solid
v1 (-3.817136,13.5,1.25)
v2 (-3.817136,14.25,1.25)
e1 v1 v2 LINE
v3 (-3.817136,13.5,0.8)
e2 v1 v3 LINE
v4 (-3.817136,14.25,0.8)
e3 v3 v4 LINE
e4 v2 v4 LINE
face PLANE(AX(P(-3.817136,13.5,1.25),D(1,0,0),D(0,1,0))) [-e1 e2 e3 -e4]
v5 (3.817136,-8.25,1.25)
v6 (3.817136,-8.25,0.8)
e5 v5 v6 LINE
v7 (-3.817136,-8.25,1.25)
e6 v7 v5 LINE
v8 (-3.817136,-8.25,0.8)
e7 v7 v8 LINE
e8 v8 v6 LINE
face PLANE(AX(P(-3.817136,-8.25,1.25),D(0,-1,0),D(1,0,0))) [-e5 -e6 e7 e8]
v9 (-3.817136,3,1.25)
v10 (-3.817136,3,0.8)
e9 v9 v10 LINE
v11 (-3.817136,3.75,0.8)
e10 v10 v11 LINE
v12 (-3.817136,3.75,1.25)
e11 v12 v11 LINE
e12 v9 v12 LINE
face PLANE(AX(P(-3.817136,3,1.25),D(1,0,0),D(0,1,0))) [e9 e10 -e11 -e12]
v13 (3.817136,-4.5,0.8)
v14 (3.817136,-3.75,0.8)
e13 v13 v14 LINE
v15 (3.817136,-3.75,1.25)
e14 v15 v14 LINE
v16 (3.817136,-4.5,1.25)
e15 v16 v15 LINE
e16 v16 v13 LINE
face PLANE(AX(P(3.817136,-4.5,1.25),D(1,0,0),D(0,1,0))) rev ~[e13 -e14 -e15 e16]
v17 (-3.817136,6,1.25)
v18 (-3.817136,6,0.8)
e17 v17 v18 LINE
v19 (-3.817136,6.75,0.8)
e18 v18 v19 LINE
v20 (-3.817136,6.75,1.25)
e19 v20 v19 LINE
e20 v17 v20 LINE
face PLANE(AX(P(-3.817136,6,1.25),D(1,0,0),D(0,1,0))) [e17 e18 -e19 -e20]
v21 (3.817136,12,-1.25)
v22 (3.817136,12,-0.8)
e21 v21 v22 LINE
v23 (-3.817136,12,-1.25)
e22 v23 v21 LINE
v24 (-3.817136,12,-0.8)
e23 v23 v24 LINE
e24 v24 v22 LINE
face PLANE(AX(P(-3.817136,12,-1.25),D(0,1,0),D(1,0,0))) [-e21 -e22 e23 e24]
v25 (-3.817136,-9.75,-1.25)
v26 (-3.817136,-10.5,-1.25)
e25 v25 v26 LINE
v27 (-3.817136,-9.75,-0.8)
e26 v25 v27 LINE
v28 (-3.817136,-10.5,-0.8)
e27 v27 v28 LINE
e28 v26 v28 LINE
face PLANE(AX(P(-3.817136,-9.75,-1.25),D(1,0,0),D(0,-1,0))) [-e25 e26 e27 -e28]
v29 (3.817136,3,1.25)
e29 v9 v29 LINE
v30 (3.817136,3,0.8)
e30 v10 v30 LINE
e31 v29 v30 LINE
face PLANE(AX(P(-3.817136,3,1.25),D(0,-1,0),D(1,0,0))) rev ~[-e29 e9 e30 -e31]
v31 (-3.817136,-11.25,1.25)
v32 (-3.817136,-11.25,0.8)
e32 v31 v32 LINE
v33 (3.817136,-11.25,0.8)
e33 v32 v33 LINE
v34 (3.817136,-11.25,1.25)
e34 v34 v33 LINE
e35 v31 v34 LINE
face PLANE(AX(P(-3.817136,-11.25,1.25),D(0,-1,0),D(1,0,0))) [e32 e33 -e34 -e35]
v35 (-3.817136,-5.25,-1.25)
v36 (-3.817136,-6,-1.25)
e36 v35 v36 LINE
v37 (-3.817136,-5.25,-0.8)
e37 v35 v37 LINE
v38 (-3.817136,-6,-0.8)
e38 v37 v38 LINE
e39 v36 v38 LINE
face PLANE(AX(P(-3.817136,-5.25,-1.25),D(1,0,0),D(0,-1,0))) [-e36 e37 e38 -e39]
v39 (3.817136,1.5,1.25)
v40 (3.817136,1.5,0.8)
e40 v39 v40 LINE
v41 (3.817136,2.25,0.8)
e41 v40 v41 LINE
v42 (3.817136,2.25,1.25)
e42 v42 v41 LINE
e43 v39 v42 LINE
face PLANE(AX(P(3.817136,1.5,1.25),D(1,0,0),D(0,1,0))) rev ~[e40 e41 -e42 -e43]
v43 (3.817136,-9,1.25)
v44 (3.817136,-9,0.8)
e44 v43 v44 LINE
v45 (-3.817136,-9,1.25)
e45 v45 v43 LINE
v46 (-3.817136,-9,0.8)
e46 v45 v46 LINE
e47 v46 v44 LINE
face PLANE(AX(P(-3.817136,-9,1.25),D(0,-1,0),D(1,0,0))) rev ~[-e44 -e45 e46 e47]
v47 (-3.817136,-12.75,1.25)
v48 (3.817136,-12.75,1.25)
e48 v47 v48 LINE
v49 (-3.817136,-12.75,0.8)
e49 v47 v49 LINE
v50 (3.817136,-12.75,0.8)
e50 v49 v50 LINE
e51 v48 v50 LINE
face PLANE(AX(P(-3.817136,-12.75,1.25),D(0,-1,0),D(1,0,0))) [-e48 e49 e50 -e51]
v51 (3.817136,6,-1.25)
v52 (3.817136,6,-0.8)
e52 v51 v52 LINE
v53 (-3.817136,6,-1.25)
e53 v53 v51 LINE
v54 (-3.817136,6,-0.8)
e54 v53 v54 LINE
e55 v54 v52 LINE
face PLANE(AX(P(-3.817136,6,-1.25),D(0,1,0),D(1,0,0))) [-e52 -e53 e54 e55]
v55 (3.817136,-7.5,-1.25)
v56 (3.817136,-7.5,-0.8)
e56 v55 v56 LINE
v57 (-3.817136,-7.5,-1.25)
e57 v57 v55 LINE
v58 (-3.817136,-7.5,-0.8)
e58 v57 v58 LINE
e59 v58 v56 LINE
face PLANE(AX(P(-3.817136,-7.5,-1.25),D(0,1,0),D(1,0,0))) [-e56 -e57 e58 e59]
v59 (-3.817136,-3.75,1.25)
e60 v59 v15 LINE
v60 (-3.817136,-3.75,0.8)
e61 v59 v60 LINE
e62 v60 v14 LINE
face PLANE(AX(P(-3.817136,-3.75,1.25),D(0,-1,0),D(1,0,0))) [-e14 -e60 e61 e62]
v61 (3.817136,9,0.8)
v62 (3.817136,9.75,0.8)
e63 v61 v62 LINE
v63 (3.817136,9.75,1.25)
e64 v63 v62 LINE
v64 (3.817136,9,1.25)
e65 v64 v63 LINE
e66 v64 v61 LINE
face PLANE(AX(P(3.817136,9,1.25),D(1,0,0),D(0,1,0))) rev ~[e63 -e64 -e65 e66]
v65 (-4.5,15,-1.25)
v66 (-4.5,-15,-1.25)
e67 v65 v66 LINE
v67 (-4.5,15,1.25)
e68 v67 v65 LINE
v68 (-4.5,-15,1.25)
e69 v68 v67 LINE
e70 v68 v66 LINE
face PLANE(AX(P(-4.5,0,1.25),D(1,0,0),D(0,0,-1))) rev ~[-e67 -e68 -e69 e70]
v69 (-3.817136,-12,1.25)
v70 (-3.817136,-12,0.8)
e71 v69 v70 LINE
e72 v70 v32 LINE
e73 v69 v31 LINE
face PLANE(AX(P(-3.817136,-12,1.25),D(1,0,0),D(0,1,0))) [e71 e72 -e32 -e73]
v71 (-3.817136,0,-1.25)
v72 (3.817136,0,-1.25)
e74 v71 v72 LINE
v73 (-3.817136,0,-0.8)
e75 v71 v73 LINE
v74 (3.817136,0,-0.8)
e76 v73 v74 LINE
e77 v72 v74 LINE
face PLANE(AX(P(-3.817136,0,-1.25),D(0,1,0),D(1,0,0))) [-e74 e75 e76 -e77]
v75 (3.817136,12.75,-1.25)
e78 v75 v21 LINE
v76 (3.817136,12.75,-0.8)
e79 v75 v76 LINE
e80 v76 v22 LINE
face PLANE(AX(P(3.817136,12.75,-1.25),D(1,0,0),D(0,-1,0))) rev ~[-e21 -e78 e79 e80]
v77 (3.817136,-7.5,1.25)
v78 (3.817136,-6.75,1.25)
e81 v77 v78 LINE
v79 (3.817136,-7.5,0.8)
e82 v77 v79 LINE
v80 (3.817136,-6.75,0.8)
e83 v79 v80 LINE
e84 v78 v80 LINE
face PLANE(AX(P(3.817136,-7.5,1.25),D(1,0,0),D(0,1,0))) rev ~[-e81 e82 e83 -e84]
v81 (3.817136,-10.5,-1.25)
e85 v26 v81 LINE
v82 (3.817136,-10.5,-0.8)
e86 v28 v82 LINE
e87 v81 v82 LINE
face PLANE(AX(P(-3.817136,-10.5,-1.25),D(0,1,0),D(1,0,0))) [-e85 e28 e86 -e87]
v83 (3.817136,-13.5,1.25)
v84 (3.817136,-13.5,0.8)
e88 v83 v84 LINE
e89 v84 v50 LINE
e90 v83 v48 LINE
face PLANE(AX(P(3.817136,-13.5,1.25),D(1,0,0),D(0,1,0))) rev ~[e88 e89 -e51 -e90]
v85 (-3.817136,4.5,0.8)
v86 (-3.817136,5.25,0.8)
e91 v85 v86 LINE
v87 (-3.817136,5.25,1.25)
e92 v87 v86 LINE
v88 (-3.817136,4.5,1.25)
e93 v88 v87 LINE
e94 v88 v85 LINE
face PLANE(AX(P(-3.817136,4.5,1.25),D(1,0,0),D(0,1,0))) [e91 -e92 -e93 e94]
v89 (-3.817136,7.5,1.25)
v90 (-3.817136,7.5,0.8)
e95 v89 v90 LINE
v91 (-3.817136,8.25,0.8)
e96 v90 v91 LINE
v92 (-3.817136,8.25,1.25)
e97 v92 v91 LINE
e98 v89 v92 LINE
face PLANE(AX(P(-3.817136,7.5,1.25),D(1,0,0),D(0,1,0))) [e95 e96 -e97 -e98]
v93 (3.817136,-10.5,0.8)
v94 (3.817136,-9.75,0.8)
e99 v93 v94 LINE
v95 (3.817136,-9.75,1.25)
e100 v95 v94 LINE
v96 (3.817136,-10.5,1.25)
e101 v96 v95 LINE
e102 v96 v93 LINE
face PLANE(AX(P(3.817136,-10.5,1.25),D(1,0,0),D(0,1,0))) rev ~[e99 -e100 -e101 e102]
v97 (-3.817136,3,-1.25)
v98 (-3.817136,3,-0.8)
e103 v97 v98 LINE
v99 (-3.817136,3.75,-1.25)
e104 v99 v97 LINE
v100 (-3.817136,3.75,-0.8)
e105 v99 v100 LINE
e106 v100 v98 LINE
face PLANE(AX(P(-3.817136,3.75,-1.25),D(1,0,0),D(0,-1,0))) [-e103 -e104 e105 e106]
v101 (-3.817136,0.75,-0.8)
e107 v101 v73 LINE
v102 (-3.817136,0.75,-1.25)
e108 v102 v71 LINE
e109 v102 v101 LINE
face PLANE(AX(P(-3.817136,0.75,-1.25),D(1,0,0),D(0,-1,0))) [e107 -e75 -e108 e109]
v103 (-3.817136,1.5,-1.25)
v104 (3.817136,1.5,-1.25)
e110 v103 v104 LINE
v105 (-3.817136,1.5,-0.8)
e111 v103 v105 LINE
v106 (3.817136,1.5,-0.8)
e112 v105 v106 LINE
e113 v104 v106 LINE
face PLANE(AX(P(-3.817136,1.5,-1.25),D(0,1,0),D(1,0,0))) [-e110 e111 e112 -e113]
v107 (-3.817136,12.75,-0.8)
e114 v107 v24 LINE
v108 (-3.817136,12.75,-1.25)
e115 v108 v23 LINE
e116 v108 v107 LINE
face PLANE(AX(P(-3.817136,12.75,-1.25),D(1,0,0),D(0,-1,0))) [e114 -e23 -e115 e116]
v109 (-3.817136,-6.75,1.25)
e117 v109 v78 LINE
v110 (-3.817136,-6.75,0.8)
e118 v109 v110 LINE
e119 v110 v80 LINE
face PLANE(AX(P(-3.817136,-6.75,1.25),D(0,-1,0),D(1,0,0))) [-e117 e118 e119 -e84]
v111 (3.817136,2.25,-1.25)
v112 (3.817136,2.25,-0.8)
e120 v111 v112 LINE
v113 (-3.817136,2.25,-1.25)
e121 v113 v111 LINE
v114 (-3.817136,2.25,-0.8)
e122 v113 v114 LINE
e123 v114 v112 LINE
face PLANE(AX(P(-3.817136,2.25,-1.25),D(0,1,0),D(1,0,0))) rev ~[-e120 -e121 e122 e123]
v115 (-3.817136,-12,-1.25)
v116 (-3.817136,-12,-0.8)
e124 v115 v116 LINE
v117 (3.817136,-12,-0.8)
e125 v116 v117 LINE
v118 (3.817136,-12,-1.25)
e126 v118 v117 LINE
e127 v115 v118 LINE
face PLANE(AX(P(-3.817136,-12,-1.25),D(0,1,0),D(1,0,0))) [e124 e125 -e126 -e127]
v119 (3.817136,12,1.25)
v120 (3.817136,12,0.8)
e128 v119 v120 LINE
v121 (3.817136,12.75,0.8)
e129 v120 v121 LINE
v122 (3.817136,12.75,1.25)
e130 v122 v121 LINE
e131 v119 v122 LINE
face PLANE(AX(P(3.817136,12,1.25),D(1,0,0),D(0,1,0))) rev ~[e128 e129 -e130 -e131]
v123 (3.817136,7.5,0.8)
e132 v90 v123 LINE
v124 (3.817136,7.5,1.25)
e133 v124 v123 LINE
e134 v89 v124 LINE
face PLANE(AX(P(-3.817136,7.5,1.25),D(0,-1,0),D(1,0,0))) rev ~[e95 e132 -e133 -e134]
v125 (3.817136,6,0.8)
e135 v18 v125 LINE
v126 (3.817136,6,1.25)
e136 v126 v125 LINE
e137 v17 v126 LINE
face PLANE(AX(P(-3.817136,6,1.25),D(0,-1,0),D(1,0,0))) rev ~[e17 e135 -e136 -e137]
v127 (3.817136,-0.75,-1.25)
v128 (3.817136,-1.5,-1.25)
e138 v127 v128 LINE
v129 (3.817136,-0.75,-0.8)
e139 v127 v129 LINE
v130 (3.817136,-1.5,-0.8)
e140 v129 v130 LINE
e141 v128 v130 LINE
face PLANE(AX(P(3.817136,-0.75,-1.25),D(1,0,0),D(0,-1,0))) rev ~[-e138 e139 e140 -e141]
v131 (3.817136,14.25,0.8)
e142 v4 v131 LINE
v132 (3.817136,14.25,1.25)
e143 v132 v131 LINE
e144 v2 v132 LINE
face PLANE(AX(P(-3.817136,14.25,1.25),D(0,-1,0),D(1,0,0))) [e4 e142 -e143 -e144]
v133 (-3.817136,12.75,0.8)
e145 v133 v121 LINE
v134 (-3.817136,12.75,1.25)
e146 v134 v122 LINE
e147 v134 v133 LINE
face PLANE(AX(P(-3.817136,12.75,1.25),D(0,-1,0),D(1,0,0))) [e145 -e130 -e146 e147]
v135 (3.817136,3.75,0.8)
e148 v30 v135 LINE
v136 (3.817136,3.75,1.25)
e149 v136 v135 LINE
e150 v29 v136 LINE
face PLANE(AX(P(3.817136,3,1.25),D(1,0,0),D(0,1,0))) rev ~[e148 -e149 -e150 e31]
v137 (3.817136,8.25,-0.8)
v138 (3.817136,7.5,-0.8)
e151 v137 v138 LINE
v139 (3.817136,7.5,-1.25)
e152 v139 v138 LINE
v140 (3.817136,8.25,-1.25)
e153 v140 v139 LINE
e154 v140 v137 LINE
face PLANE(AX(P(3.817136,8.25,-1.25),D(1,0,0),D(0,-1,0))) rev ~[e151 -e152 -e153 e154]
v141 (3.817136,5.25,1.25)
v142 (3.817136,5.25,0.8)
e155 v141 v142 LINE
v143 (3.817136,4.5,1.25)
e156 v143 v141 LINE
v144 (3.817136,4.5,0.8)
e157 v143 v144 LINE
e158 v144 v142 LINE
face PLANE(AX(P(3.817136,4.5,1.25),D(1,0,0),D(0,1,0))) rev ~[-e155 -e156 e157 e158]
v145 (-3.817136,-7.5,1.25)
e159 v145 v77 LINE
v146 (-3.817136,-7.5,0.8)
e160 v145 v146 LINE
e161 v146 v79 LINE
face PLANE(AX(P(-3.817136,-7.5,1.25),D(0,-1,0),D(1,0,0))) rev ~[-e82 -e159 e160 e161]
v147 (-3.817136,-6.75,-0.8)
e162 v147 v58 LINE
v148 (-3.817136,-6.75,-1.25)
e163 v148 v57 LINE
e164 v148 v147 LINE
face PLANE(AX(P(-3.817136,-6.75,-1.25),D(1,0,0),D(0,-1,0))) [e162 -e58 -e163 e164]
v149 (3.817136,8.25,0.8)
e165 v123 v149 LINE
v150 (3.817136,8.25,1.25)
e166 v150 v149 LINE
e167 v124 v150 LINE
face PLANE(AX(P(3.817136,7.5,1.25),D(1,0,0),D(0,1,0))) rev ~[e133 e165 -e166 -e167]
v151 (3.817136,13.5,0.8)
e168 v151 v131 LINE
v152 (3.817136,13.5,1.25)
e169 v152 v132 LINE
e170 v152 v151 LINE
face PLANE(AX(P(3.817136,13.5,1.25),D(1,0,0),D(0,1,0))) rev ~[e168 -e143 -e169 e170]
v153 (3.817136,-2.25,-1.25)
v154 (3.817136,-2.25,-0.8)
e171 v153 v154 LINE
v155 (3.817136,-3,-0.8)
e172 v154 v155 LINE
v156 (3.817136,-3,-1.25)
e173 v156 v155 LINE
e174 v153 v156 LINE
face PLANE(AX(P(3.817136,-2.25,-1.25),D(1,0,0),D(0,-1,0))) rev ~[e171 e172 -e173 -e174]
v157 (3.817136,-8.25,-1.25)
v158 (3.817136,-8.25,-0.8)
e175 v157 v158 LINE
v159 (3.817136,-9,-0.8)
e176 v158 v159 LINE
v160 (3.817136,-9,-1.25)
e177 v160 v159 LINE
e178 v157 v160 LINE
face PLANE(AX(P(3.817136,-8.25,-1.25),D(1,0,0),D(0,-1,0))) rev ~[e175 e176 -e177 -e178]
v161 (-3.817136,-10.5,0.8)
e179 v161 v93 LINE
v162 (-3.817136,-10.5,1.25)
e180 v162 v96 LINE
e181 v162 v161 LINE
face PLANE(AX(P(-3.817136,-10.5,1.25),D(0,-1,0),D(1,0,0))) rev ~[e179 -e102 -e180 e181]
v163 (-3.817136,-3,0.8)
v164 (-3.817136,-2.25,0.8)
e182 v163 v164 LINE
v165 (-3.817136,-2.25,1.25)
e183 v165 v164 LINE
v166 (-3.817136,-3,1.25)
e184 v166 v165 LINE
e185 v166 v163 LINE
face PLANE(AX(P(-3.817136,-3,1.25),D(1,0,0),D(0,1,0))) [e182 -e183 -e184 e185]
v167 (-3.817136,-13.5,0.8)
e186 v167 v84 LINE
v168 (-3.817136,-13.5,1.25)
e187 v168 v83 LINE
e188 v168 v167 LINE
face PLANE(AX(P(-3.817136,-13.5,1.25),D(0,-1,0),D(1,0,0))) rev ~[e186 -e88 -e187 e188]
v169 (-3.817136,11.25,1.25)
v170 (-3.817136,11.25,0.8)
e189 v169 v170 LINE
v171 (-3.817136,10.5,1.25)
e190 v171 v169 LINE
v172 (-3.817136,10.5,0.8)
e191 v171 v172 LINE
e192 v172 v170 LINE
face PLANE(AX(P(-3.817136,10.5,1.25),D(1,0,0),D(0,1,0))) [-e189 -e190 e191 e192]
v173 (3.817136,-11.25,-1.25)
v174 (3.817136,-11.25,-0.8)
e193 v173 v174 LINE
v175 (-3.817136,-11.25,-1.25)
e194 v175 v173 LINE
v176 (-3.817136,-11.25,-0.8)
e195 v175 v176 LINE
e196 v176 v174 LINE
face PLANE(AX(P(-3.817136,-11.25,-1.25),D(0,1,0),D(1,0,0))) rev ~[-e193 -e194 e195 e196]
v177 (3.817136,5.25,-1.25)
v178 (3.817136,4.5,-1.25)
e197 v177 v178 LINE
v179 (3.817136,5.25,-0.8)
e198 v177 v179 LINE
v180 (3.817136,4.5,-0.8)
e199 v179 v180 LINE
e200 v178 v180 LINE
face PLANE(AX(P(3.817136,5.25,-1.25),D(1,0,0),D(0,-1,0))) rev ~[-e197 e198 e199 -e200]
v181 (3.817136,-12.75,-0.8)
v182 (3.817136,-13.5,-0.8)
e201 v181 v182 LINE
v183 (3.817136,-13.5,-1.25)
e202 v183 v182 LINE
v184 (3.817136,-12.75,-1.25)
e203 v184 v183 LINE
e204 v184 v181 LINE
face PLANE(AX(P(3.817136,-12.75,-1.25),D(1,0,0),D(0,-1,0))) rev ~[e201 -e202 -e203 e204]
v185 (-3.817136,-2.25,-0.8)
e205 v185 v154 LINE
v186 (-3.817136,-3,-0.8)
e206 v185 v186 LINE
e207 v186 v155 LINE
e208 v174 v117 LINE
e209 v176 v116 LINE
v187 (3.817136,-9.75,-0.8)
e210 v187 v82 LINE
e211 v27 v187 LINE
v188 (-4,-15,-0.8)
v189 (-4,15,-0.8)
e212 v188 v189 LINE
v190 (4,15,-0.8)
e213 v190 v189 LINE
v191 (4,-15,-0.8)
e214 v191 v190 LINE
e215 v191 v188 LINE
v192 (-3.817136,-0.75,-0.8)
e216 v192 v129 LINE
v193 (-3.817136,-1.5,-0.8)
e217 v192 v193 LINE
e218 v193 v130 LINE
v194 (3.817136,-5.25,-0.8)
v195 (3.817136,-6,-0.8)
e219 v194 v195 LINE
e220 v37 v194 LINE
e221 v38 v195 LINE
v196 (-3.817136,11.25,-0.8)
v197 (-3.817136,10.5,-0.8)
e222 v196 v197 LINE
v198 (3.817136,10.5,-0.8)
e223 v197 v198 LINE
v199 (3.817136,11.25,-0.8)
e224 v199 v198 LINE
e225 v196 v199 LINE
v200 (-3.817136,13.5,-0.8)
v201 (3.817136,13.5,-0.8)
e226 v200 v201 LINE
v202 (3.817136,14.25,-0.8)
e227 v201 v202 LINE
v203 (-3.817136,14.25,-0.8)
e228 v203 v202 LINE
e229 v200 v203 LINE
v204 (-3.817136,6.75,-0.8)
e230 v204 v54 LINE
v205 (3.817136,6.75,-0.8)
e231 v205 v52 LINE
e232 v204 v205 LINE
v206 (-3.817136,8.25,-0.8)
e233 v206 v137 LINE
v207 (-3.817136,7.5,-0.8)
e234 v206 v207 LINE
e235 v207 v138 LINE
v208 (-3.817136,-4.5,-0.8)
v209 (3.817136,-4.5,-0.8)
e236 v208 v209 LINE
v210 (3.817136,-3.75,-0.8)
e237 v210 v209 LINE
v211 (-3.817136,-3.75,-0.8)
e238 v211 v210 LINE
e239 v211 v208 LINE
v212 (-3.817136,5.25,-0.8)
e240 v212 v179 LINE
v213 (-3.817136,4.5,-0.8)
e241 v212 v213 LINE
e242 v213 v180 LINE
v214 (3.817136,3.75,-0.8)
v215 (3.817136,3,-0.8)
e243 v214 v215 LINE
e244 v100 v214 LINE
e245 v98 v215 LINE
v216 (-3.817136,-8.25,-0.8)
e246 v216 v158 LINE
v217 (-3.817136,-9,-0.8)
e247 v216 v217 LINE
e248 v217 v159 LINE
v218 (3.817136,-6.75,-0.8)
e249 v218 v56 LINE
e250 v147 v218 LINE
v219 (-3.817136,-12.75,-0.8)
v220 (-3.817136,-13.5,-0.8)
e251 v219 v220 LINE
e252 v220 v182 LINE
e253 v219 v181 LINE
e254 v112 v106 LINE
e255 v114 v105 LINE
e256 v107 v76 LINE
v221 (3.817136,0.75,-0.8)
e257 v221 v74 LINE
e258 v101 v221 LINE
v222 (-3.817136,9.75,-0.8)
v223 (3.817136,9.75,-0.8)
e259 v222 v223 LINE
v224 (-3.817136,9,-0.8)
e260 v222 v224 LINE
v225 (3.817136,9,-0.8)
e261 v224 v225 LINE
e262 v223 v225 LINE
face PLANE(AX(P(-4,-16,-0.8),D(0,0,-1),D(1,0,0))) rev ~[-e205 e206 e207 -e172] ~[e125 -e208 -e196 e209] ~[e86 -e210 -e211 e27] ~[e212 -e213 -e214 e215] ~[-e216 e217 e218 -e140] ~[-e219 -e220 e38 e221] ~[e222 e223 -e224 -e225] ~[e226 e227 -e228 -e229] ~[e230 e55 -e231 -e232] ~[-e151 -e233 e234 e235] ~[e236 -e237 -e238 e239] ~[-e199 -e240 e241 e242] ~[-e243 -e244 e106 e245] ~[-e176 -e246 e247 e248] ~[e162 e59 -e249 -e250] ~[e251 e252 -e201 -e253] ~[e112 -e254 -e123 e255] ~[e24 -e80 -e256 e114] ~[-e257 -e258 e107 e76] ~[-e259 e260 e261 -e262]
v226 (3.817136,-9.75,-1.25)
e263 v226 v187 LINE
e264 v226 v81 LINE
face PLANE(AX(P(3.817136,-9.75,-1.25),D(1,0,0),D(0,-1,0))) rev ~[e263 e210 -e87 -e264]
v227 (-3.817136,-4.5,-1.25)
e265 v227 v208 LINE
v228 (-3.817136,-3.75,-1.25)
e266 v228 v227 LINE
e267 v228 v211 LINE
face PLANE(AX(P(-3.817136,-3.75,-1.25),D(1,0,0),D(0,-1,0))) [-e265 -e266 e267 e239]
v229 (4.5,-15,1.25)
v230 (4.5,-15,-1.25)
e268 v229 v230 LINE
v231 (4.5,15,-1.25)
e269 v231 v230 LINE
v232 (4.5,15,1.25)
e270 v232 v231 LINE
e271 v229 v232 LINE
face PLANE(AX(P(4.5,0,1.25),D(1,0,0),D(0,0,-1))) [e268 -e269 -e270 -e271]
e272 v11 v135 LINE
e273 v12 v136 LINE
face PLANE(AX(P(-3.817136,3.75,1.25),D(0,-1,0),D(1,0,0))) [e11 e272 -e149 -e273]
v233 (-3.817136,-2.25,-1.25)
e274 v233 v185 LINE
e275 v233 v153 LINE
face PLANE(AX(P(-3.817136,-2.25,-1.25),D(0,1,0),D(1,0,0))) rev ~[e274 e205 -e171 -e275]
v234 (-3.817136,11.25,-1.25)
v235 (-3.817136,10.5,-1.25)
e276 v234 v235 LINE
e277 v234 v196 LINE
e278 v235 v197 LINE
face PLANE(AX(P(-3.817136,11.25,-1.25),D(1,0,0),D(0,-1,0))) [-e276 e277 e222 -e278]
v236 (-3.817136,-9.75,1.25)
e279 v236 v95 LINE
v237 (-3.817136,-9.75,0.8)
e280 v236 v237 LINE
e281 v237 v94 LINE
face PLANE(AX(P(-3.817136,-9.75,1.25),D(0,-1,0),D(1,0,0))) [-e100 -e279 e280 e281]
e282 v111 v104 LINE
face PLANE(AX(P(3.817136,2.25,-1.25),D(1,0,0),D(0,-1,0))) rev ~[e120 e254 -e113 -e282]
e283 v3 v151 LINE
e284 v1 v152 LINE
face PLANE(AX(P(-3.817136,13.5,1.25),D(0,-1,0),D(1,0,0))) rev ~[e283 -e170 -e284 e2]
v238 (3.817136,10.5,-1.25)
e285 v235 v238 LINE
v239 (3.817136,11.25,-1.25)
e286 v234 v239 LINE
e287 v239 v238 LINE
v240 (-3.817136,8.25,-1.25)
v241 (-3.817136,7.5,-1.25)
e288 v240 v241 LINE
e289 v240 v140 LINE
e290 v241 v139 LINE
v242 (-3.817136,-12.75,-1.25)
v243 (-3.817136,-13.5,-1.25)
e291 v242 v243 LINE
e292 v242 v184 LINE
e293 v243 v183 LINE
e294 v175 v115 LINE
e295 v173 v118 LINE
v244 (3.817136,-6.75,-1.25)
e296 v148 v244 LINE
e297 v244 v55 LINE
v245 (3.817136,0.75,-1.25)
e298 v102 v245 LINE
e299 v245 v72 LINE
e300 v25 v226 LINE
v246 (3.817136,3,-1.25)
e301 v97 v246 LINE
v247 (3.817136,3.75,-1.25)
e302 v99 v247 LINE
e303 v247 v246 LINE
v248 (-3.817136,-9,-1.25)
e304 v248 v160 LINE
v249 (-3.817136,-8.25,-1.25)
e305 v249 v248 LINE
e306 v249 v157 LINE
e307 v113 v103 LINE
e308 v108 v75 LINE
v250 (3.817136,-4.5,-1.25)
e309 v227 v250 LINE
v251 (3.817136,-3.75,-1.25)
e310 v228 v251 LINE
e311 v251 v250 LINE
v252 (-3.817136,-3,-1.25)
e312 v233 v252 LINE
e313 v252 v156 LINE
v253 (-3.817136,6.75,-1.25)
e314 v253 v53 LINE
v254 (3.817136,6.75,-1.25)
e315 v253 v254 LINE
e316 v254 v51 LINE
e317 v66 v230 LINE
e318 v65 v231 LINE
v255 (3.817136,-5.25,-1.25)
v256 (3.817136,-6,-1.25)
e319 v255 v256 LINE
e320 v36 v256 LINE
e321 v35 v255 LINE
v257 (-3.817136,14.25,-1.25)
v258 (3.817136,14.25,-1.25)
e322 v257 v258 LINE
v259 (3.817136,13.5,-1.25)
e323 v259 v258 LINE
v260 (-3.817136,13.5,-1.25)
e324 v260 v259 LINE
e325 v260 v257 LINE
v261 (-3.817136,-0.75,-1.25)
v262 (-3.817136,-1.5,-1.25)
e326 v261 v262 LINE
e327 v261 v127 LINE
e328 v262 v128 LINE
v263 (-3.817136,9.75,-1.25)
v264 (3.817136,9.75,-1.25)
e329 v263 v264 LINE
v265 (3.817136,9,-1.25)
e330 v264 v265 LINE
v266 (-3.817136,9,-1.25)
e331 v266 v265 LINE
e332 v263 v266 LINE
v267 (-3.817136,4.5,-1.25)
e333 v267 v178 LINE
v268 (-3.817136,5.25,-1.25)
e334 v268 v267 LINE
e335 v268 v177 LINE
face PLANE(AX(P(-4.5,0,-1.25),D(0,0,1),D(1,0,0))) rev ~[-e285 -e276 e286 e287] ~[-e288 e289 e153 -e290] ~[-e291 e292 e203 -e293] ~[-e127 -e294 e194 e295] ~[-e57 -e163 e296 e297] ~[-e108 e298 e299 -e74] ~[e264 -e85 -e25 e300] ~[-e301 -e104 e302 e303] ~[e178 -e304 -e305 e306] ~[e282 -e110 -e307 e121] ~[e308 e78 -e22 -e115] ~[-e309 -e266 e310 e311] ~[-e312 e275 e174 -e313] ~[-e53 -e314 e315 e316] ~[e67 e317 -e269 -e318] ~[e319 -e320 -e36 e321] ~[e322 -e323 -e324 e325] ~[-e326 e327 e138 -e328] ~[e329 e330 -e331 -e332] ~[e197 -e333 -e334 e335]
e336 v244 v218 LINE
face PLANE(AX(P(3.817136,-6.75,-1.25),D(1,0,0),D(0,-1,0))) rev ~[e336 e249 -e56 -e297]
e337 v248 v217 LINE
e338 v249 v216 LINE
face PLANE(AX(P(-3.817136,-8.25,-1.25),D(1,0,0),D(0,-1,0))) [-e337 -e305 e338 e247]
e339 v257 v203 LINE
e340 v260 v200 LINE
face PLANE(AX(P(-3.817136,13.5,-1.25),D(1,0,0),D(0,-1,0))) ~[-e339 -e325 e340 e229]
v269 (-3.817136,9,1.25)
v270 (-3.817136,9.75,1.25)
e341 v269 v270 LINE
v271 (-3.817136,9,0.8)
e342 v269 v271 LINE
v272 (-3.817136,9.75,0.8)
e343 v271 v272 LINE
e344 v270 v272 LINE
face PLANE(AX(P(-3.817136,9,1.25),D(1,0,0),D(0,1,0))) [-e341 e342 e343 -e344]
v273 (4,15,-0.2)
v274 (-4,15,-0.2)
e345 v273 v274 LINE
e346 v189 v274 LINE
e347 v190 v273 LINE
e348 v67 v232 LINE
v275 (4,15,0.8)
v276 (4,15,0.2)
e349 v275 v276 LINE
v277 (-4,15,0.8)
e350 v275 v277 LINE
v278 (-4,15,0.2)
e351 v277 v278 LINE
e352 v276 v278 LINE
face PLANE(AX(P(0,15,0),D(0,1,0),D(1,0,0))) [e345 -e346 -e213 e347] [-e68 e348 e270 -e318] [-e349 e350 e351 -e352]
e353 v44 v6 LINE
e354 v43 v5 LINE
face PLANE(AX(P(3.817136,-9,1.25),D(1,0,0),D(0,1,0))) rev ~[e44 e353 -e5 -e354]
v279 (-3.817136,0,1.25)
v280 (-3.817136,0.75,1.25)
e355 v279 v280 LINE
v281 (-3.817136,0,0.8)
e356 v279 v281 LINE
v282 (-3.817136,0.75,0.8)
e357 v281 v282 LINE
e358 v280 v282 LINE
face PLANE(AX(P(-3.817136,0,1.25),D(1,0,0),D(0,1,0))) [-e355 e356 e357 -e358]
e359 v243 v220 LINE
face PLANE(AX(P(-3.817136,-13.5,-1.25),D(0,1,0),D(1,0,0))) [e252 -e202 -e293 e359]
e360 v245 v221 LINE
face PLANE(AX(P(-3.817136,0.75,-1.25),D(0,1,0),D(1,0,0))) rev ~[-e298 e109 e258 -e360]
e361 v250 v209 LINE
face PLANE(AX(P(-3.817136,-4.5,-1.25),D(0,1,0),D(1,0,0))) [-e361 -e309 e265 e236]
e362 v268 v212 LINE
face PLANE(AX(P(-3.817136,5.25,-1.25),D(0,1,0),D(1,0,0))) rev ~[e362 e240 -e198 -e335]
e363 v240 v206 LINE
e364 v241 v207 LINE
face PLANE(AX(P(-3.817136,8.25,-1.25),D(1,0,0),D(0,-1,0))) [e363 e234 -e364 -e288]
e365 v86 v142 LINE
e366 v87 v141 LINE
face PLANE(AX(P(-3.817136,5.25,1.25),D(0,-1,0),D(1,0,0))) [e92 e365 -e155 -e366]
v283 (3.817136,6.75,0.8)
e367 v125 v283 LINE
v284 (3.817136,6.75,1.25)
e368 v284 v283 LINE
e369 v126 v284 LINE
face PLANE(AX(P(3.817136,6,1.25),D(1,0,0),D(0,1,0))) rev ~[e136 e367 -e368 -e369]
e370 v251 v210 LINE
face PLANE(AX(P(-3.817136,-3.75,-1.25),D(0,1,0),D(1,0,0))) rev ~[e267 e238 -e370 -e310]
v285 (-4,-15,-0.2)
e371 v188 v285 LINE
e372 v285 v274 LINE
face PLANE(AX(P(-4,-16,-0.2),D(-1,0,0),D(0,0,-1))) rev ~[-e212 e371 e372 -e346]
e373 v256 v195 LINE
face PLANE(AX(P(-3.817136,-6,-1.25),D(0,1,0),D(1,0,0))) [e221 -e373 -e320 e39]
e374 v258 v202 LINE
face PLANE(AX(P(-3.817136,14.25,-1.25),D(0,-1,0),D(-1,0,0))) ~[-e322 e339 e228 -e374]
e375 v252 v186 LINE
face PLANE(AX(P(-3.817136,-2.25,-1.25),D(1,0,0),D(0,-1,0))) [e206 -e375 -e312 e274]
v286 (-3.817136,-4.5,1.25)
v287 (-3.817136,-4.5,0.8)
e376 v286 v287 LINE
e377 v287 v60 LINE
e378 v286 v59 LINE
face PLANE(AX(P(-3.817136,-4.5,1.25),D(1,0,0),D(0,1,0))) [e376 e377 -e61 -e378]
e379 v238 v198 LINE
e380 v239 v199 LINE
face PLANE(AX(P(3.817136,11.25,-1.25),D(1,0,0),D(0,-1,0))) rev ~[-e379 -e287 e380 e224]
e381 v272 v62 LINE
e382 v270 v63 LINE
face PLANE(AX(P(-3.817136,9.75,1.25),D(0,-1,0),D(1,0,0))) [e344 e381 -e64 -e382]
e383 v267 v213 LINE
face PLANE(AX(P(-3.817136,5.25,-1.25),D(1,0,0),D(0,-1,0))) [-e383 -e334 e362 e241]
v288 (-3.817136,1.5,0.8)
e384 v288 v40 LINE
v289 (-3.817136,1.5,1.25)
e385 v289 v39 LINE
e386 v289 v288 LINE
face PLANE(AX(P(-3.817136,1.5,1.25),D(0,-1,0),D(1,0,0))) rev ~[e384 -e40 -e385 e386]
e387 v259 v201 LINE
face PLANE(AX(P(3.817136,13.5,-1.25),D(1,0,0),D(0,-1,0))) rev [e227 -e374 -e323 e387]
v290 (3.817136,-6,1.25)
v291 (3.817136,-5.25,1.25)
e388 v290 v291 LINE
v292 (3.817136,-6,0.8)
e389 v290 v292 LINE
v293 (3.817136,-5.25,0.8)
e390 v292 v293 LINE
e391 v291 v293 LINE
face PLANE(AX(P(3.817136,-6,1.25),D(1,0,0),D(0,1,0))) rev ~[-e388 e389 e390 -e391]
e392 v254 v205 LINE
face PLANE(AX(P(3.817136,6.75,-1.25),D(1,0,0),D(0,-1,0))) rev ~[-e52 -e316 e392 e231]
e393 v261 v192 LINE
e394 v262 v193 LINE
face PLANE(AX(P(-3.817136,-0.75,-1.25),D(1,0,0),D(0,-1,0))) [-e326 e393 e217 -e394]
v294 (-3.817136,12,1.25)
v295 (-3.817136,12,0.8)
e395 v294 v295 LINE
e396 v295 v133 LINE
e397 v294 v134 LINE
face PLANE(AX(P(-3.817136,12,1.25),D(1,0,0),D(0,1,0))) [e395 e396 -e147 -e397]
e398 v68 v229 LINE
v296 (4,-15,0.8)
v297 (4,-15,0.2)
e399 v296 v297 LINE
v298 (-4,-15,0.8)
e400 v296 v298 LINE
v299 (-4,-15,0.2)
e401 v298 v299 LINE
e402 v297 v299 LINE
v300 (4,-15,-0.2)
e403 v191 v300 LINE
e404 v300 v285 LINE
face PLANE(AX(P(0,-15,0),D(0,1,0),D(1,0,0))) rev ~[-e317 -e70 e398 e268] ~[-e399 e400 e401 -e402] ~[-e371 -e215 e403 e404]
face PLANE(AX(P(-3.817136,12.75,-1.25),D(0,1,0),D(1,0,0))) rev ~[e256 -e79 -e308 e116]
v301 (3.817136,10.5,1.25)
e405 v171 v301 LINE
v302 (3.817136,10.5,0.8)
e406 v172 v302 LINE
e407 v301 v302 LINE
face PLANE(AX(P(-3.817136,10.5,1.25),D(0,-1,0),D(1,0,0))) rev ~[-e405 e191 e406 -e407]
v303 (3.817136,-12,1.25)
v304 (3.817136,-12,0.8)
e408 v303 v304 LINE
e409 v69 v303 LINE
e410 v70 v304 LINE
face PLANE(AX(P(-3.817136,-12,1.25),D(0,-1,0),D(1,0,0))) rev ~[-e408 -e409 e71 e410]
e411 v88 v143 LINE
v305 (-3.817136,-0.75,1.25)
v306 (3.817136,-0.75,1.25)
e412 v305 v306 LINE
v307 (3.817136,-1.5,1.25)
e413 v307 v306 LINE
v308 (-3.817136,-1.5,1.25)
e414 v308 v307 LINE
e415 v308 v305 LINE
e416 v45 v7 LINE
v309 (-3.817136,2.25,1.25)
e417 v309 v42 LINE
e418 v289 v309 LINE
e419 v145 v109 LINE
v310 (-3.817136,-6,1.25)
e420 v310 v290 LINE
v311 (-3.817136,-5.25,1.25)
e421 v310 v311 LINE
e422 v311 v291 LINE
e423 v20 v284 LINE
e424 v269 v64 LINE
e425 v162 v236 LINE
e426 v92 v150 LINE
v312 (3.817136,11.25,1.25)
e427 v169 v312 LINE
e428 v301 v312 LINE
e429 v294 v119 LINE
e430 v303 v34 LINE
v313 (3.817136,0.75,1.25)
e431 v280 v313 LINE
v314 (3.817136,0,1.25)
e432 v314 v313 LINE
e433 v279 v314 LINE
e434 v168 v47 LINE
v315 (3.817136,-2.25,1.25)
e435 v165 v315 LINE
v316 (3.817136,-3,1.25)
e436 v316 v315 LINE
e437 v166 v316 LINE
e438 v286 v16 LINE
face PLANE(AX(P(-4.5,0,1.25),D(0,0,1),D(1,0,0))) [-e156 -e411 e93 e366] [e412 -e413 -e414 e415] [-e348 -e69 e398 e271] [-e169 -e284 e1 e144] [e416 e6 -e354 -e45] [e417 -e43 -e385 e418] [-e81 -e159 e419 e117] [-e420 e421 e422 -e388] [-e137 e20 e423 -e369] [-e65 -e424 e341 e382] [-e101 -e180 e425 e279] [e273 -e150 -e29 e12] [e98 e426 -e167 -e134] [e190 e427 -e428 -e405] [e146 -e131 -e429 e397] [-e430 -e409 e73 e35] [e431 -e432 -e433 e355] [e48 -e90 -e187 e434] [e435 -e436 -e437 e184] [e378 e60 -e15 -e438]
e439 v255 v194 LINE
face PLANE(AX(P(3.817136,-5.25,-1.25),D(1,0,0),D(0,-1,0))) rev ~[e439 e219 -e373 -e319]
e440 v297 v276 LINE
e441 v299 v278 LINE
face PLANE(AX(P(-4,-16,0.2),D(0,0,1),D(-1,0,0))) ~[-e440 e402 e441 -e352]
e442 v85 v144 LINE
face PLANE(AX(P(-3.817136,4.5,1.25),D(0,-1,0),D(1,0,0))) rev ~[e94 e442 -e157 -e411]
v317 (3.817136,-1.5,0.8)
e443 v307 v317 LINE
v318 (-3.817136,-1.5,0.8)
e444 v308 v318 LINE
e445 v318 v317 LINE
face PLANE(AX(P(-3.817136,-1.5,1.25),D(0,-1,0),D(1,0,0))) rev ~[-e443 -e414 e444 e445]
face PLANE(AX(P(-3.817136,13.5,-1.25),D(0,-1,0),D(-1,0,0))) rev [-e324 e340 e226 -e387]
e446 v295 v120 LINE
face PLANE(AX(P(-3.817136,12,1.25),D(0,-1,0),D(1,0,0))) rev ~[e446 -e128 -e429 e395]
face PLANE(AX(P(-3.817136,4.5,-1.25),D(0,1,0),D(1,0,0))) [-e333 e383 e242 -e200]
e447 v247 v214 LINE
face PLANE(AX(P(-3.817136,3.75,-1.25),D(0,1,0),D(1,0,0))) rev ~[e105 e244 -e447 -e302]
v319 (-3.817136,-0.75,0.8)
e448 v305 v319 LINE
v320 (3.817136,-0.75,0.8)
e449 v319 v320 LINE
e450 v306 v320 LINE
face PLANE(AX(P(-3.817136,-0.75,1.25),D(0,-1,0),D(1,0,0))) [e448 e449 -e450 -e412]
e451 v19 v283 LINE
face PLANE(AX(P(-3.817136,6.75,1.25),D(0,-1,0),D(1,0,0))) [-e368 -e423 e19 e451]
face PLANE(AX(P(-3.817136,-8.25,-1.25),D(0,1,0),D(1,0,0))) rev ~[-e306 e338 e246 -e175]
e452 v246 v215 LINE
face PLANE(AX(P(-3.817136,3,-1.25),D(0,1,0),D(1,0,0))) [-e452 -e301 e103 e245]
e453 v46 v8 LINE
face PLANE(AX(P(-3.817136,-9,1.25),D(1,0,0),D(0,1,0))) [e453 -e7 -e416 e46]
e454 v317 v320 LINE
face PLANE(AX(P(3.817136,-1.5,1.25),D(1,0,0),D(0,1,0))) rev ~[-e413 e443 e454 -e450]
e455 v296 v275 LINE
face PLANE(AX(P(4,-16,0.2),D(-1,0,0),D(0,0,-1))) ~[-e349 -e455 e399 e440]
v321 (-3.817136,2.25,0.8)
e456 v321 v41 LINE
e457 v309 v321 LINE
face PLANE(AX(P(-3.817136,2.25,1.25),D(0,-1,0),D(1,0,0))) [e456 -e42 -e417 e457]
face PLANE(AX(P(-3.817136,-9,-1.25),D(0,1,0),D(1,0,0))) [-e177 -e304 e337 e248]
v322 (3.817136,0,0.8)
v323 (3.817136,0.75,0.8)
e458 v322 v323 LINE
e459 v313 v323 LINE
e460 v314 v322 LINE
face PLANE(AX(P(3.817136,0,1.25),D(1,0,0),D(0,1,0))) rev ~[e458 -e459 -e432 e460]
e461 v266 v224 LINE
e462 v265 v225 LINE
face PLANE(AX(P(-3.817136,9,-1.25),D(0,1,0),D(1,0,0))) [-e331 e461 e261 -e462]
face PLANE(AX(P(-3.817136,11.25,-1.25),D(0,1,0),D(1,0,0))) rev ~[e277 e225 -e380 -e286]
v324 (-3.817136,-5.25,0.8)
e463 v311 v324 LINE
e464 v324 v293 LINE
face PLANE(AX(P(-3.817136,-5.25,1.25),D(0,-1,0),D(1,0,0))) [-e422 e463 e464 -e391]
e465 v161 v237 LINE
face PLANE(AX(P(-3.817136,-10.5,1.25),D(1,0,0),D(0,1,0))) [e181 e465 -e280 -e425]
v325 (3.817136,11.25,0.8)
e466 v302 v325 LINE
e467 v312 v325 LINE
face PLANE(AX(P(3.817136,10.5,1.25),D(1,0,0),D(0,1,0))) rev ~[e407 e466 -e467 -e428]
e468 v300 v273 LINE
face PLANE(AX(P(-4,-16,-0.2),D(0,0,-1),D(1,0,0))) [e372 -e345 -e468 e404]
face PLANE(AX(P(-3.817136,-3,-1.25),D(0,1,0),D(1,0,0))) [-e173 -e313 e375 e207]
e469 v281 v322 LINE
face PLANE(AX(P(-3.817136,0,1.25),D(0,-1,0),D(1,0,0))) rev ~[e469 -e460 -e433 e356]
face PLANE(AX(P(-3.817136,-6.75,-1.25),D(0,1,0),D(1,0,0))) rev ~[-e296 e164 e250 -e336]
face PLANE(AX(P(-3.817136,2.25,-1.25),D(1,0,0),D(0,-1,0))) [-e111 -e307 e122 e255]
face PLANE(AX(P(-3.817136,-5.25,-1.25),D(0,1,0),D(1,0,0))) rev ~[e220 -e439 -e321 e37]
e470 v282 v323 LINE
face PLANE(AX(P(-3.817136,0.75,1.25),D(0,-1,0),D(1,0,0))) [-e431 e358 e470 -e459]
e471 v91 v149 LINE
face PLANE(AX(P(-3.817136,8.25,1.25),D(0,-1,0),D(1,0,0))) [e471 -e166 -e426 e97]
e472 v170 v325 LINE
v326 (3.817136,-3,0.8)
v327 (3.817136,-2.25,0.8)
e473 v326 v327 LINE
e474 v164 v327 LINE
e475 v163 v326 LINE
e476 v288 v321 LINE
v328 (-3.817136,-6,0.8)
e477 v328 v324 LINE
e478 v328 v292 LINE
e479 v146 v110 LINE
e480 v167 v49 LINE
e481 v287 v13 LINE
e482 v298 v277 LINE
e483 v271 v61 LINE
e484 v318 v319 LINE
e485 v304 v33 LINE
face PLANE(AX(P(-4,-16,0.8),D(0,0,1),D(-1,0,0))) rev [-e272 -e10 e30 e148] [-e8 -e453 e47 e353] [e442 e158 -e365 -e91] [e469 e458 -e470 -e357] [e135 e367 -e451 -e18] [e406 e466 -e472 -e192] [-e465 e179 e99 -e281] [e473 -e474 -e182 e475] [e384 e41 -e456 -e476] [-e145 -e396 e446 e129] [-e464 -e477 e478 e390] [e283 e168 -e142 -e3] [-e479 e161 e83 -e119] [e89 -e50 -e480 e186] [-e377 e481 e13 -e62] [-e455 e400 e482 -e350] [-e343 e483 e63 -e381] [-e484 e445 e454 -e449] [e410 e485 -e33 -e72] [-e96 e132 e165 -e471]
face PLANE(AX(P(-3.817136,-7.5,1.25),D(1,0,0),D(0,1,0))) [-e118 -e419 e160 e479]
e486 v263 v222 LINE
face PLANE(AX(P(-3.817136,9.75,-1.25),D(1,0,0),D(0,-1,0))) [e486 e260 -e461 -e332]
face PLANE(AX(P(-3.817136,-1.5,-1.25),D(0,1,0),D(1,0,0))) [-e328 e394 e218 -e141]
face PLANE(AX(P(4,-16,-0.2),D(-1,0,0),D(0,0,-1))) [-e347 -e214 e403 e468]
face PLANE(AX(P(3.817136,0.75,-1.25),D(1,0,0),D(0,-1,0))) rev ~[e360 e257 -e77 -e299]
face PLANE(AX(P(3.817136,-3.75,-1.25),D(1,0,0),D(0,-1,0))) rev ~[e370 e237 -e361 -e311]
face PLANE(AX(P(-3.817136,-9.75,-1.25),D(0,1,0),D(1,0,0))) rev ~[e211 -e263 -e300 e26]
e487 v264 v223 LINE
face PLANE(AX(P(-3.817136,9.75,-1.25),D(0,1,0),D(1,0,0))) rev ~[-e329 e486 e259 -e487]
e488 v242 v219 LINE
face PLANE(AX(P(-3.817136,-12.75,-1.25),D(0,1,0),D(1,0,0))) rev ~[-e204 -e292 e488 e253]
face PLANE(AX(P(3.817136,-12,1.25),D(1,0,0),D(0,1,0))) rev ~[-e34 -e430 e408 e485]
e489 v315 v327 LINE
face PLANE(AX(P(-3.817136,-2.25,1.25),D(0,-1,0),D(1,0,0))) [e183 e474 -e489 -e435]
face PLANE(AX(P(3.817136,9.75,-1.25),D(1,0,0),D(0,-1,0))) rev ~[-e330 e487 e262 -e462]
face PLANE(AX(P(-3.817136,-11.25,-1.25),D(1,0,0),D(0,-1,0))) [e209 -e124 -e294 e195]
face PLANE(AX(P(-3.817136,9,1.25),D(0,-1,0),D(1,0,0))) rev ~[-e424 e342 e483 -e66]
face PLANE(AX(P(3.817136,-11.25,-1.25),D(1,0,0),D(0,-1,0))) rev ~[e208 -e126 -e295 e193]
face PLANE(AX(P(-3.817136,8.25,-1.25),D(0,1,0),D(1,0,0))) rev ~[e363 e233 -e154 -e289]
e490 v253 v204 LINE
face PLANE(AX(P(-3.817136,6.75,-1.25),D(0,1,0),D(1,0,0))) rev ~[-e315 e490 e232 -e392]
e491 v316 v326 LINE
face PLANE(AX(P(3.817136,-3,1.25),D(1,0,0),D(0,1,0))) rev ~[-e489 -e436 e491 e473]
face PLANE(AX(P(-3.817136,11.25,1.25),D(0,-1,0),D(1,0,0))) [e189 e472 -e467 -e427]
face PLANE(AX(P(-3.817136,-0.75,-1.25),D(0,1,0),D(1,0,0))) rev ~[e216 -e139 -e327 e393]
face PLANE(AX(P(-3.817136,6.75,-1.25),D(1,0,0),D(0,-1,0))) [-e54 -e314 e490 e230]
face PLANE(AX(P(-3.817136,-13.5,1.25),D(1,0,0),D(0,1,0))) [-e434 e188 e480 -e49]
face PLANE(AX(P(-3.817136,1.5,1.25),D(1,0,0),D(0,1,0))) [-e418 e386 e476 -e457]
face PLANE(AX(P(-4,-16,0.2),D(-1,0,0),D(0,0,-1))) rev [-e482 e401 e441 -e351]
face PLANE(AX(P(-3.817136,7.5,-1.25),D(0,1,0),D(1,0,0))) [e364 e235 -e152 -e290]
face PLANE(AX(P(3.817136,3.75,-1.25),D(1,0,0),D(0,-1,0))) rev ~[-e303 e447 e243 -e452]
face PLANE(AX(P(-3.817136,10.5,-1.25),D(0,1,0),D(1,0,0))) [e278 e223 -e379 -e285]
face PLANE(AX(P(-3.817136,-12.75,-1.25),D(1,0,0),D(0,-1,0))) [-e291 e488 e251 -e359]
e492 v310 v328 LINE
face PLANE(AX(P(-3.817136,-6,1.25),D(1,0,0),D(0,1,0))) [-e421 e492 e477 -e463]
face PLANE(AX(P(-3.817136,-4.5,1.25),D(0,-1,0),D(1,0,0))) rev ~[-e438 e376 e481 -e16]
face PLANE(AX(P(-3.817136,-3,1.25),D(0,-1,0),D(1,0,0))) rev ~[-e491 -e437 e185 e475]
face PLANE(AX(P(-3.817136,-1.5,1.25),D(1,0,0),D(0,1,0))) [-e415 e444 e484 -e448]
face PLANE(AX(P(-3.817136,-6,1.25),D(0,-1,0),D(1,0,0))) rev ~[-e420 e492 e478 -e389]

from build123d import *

# Parameters (mm, degrees)
SKETCH1_W                = 9
SKETCH1_H                = 2.5
BOSS_EXTRUDE1_DEPTH      = 15
CUT_EXTRUDE1_START       = -31
SKETCH2_W                = 8
SKETCH2_H                = 0.6
CUT_EXTRUDE1_DEPTH       = 32
SKETCH3_W                = 7.634272068
SKETCH3_H                = 0.75
CUT_EXTRUDE2_DEPTH       = 0.45
LPATTERN1_COUNT          = 19
LPATTERN1_PITCH          = 1.5
MIRROR2_COPY_1_SKETCH_W  = 7.634272068
MIRROR2_COPY_1_SKETCH_H  = 0.75
MIRROR2_COPY_1_DEPTH     = 0.45
MIRROR2_COPY_2_SKETCH_W  = 7.634272068
MIRROR2_COPY_2_SKETCH_H  = 0.75
MIRROR2_COPY_2_DEPTH     = 0.45
MIRROR2_COPY_3_SKETCH_W  = 7.634272068
MIRROR2_COPY_3_SKETCH_H  = 0.75
MIRROR2_COPY_3_DEPTH     = 0.45
MIRROR2_COPY_4_SKETCH_W  = 7.634272068
MIRROR2_COPY_4_SKETCH_H  = 0.75
MIRROR2_COPY_4_DEPTH     = 0.45
MIRROR2_COPY_5_SKETCH_W  = 7.634272068
MIRROR2_COPY_5_SKETCH_H  = 0.75
MIRROR2_COPY_5_DEPTH     = 0.45
MIRROR2_COPY_6_SKETCH_W  = 7.634272068
MIRROR2_COPY_6_SKETCH_H  = 0.75
MIRROR2_COPY_6_DEPTH     = 0.45
MIRROR2_COPY_7_SKETCH_W  = 7.634272068
MIRROR2_COPY_7_SKETCH_H  = 0.75
MIRROR2_COPY_7_DEPTH     = 0.45
MIRROR2_COPY_8_SKETCH_W  = 7.634272068
MIRROR2_COPY_8_SKETCH_H  = 0.75
MIRROR2_COPY_8_DEPTH     = 0.45
MIRROR2_COPY_9_SKETCH_W  = 7.634272068
MIRROR2_COPY_9_SKETCH_H  = 0.75
MIRROR2_COPY_9_DEPTH     = 0.45
MIRROR2_COPY_10_SKETCH_W = 7.634272068
MIRROR2_COPY_10_SKETCH_H = 0.75
MIRROR2_COPY_10_DEPTH    = 0.45
MIRROR2_COPY_11_SKETCH_W = 7.634272068
MIRROR2_COPY_11_SKETCH_H = 0.75
MIRROR2_COPY_11_DEPTH    = 0.45
MIRROR2_COPY_12_SKETCH_W = 7.634272068
MIRROR2_COPY_12_SKETCH_H = 0.75
MIRROR2_COPY_12_DEPTH    = 0.45
MIRROR2_COPY_13_SKETCH_W = 7.634272068
MIRROR2_COPY_13_SKETCH_H = 0.75
MIRROR2_COPY_13_DEPTH    = 0.45
MIRROR2_COPY_14_SKETCH_W = 7.634272068
MIRROR2_COPY_14_SKETCH_H = 0.75
MIRROR2_COPY_14_DEPTH    = 0.45
MIRROR2_COPY_15_SKETCH_W = 7.634272068
MIRROR2_COPY_15_SKETCH_H = 0.75
MIRROR2_COPY_15_DEPTH    = 0.45
MIRROR2_COPY_16_SKETCH_W = 7.634272068
MIRROR2_COPY_16_SKETCH_H = 0.75
MIRROR2_COPY_16_DEPTH    = 0.45
MIRROR2_COPY_17_SKETCH_W = 7.634272068
MIRROR2_COPY_17_SKETCH_H = 0.75
MIRROR2_COPY_17_DEPTH    = 0.45
MIRROR2_COPY_18_SKETCH_W = 7.634272068
MIRROR2_COPY_18_SKETCH_H = 0.75
MIRROR2_COPY_18_DEPTH    = 0.45


with BuildPart() as part:
    # Sketch1 → Boss-Extrude1 (new body, symmetric)
    with BuildSketch(Plane(origin=(0, 0, 0), x_dir=(1, 0, 0), z_dir=(0, 1, 0))):
        Rectangle(SKETCH1_W, SKETCH1_H)
    extrude(amount=BOSS_EXTRUDE1_DEPTH, both=True)

    # Sketch2 → Cut-Extrude1 (cut)
    with BuildSketch(Plane(origin=(0, 15, 0), x_dir=(1, 0, 0), z_dir=(0, 1, 0)).offset(CUT_EXTRUDE1_START)):
        with Locations((0, 0.5)):
            Rectangle(SKETCH2_W, SKETCH2_H)
    cut_extrude1 = extrude(amount=CUT_EXTRUDE1_DEPTH, mode=Mode.SUBTRACT)

    # Mirror1: Cut-Extrude1 across plane
    add(cut_extrude1.mirror(Plane.XY), mode=Mode.SUBTRACT)

    # Sketch3 → Cut-Extrude2 (cut)
    with BuildSketch(Plane.XY.offset(1.25)):
        with Locations((0, 13.875)):
            Rectangle(SKETCH3_W, SKETCH3_H)
    cut_extrude2 = extrude(amount=-CUT_EXTRUDE2_DEPTH, mode=Mode.SUBTRACT)

    # LPattern1: Cut-Extrude2 ×19
    with Locations(*[(0, -i * LPATTERN1_PITCH, 0) for i in range(1, LPATTERN1_COUNT)]):
        add(cut_extrude2, mode=Mode.SUBTRACT)

    # Mirror2: Cut-Extrude2 across plane
    add(cut_extrude2.mirror(Plane.XY), mode=Mode.SUBTRACT)

    # Mirror2 copy 1 sketch → Mirror2 copy 1 (cut)
    with BuildSketch(Plane(origin=(0, -1.5, -1.25), x_dir=(1, 0, 0), z_dir=(0, 0, -1))):
        with Locations((0, -13.875)):
            Rectangle(MIRROR2_COPY_1_SKETCH_W, MIRROR2_COPY_1_SKETCH_H)
    extrude(amount=-MIRROR2_COPY_1_DEPTH, mode=Mode.SUBTRACT)

    # Mirror2 copy 2 sketch → Mirror2 copy 2 (cut)
    with BuildSketch(Plane(origin=(0, -3, -1.25), x_dir=(1, 0, 0), z_dir=(0, 0, -1))):
        with Locations((0, -13.875)):
            Rectangle(MIRROR2_COPY_2_SKETCH_W, MIRROR2_COPY_2_SKETCH_H)
    extrude(amount=-MIRROR2_COPY_2_DEPTH, mode=Mode.SUBTRACT)

    # Mirror2 copy 3 sketch → Mirror2 copy 3 (cut)
    with BuildSketch(Plane(origin=(0, -4.5, -1.25), x_dir=(1, 0, 0), z_dir=(0, 0, -1))):
        with Locations((0, -13.875)):
            Rectangle(MIRROR2_COPY_3_SKETCH_W, MIRROR2_COPY_3_SKETCH_H)
    extrude(amount=-MIRROR2_COPY_3_DEPTH, mode=Mode.SUBTRACT)

    # Mirror2 copy 4 sketch → Mirror2 copy 4 (cut)
    with BuildSketch(Plane(origin=(0, -6, -1.25), x_dir=(1, 0, 0), z_dir=(0, 0, -1))):
        with Locations((0, -13.875)):
            Rectangle(MIRROR2_COPY_4_SKETCH_W, MIRROR2_COPY_4_SKETCH_H)
    extrude(amount=-MIRROR2_COPY_4_DEPTH, mode=Mode.SUBTRACT)

    # Mirror2 copy 5 sketch → Mirror2 copy 5 (cut)
    with BuildSketch(Plane(origin=(0, -7.5, -1.25), x_dir=(1, 0, 0), z_dir=(0, 0, -1))):
        with Locations((0, -13.875)):
            Rectangle(MIRROR2_COPY_5_SKETCH_W, MIRROR2_COPY_5_SKETCH_H)
    extrude(amount=-MIRROR2_COPY_5_DEPTH, mode=Mode.SUBTRACT)

    # Mirror2 copy 6 sketch → Mirror2 copy 6 (cut)
    with BuildSketch(Plane(origin=(0, -9, -1.25), x_dir=(1, 0, 0), z_dir=(0, 0, -1))):
        with Locations((0, -13.875)):
            Rectangle(MIRROR2_COPY_6_SKETCH_W, MIRROR2_COPY_6_SKETCH_H)
    extrude(amount=-MIRROR2_COPY_6_DEPTH, mode=Mode.SUBTRACT)

    # Mirror2 copy 7 sketch → Mirror2 copy 7 (cut)
    with BuildSketch(Plane(origin=(0, -10.5, -1.25), x_dir=(1, 0, 0), z_dir=(0, 0, -1))):
        with Locations((0, -13.875)):
            Rectangle(MIRROR2_COPY_7_SKETCH_W, MIRROR2_COPY_7_SKETCH_H)
    extrude(amount=-MIRROR2_COPY_7_DEPTH, mode=Mode.SUBTRACT)

    # Mirror2 copy 8 sketch → Mirror2 copy 8 (cut)
    with BuildSketch(Plane(origin=(0, -12, -1.25), x_dir=(1, 0, 0), z_dir=(0, 0, -1))):
        with Locations((0, -13.875)):
            Rectangle(MIRROR2_COPY_8_SKETCH_W, MIRROR2_COPY_8_SKETCH_H)
    extrude(amount=-MIRROR2_COPY_8_DEPTH, mode=Mode.SUBTRACT)

    # Mirror2 copy 9 sketch → Mirror2 copy 9 (cut)
    with BuildSketch(Plane(origin=(0, -13.5, -1.25), x_dir=(1, 0, 0), z_dir=(0, 0, -1))):
        with Locations((0, -13.875)):
            Rectangle(MIRROR2_COPY_9_SKETCH_W, MIRROR2_COPY_9_SKETCH_H)
    extrude(amount=-MIRROR2_COPY_9_DEPTH, mode=Mode.SUBTRACT)

    # Mirror2 copy 10 sketch → Mirror2 copy 10 (cut)
    with BuildSketch(Plane(origin=(0, -15, -1.25), x_dir=(1, 0, 0), z_dir=(0, 0, -1))):
        with Locations((0, -13.875)):
            Rectangle(MIRROR2_COPY_10_SKETCH_W, MIRROR2_COPY_10_SKETCH_H)
    extrude(amount=-MIRROR2_COPY_10_DEPTH, mode=Mode.SUBTRACT)

    # Mirror2 copy 11 sketch → Mirror2 copy 11 (cut)
    with BuildSketch(Plane(origin=(0, -16.5, -1.25), x_dir=(1, 0, 0), z_dir=(0, 0, -1))):
        with Locations((0, -13.875)):
            Rectangle(MIRROR2_COPY_11_SKETCH_W, MIRROR2_COPY_11_SKETCH_H)
    extrude(amount=-MIRROR2_COPY_11_DEPTH, mode=Mode.SUBTRACT)

    # Mirror2 copy 12 sketch → Mirror2 copy 12 (cut)
    with BuildSketch(Plane(origin=(0, -18, -1.25), x_dir=(1, 0, 0), z_dir=(0, 0, -1))):
        with Locations((0, -13.875)):
            Rectangle(MIRROR2_COPY_12_SKETCH_W, MIRROR2_COPY_12_SKETCH_H)
    extrude(amount=-MIRROR2_COPY_12_DEPTH, mode=Mode.SUBTRACT)

    # Mirror2 copy 13 sketch → Mirror2 copy 13 (cut)
    with BuildSketch(Plane(origin=(0, -19.5, -1.25), x_dir=(1, 0, 0), z_dir=(0, 0, -1))):
        with Locations((0, -13.875)):
            Rectangle(MIRROR2_COPY_13_SKETCH_W, MIRROR2_COPY_13_SKETCH_H)
    extrude(amount=-MIRROR2_COPY_13_DEPTH, mode=Mode.SUBTRACT)

    # Mirror2 copy 14 sketch → Mirror2 copy 14 (cut)
    with BuildSketch(Plane(origin=(0, -21, -1.25), x_dir=(1, 0, 0), z_dir=(0, 0, -1))):
        with Locations((0, -13.875)):
            Rectangle(MIRROR2_COPY_14_SKETCH_W, MIRROR2_COPY_14_SKETCH_H)
    extrude(amount=-MIRROR2_COPY_14_DEPTH, mode=Mode.SUBTRACT)

    # Mirror2 copy 15 sketch → Mirror2 copy 15 (cut)
    with BuildSketch(Plane(origin=(0, -22.5, -1.25), x_dir=(1, 0, 0), z_dir=(0, 0, -1))):
        with Locations((0, -13.875)):
            Rectangle(MIRROR2_COPY_15_SKETCH_W, MIRROR2_COPY_15_SKETCH_H)
    extrude(amount=-MIRROR2_COPY_15_DEPTH, mode=Mode.SUBTRACT)

    # Mirror2 copy 16 sketch → Mirror2 copy 16 (cut)
    with BuildSketch(Plane(origin=(0, -24, -1.25), x_dir=(1, 0, 0), z_dir=(0, 0, -1))):
        with Locations((0, -13.875)):
            Rectangle(MIRROR2_COPY_16_SKETCH_W, MIRROR2_COPY_16_SKETCH_H)
    extrude(amount=-MIRROR2_COPY_16_DEPTH, mode=Mode.SUBTRACT)

    # Mirror2 copy 17 sketch → Mirror2 copy 17 (cut)
    with BuildSketch(Plane(origin=(0, -25.5, -1.25), x_dir=(1, 0, 0), z_dir=(0, 0, -1))):
        with Locations((0, -13.875)):
            Rectangle(MIRROR2_COPY_17_SKETCH_W, MIRROR2_COPY_17_SKETCH_H)
    extrude(amount=-MIRROR2_COPY_17_DEPTH, mode=Mode.SUBTRACT)

    # Mirror2 copy 18 sketch → Mirror2 copy 18 (cut)
    with BuildSketch(Plane(origin=(0, -27, -1.25), x_dir=(1, 0, 0), z_dir=(0, 0, -1))):
        with Locations((0, -13.875)):
            Rectangle(MIRROR2_COPY_18_SKETCH_W, MIRROR2_COPY_18_SKETCH_H)
    extrude(amount=-MIRROR2_COPY_18_DEPTH, mode=Mode.SUBTRACT)


solid = part.part
